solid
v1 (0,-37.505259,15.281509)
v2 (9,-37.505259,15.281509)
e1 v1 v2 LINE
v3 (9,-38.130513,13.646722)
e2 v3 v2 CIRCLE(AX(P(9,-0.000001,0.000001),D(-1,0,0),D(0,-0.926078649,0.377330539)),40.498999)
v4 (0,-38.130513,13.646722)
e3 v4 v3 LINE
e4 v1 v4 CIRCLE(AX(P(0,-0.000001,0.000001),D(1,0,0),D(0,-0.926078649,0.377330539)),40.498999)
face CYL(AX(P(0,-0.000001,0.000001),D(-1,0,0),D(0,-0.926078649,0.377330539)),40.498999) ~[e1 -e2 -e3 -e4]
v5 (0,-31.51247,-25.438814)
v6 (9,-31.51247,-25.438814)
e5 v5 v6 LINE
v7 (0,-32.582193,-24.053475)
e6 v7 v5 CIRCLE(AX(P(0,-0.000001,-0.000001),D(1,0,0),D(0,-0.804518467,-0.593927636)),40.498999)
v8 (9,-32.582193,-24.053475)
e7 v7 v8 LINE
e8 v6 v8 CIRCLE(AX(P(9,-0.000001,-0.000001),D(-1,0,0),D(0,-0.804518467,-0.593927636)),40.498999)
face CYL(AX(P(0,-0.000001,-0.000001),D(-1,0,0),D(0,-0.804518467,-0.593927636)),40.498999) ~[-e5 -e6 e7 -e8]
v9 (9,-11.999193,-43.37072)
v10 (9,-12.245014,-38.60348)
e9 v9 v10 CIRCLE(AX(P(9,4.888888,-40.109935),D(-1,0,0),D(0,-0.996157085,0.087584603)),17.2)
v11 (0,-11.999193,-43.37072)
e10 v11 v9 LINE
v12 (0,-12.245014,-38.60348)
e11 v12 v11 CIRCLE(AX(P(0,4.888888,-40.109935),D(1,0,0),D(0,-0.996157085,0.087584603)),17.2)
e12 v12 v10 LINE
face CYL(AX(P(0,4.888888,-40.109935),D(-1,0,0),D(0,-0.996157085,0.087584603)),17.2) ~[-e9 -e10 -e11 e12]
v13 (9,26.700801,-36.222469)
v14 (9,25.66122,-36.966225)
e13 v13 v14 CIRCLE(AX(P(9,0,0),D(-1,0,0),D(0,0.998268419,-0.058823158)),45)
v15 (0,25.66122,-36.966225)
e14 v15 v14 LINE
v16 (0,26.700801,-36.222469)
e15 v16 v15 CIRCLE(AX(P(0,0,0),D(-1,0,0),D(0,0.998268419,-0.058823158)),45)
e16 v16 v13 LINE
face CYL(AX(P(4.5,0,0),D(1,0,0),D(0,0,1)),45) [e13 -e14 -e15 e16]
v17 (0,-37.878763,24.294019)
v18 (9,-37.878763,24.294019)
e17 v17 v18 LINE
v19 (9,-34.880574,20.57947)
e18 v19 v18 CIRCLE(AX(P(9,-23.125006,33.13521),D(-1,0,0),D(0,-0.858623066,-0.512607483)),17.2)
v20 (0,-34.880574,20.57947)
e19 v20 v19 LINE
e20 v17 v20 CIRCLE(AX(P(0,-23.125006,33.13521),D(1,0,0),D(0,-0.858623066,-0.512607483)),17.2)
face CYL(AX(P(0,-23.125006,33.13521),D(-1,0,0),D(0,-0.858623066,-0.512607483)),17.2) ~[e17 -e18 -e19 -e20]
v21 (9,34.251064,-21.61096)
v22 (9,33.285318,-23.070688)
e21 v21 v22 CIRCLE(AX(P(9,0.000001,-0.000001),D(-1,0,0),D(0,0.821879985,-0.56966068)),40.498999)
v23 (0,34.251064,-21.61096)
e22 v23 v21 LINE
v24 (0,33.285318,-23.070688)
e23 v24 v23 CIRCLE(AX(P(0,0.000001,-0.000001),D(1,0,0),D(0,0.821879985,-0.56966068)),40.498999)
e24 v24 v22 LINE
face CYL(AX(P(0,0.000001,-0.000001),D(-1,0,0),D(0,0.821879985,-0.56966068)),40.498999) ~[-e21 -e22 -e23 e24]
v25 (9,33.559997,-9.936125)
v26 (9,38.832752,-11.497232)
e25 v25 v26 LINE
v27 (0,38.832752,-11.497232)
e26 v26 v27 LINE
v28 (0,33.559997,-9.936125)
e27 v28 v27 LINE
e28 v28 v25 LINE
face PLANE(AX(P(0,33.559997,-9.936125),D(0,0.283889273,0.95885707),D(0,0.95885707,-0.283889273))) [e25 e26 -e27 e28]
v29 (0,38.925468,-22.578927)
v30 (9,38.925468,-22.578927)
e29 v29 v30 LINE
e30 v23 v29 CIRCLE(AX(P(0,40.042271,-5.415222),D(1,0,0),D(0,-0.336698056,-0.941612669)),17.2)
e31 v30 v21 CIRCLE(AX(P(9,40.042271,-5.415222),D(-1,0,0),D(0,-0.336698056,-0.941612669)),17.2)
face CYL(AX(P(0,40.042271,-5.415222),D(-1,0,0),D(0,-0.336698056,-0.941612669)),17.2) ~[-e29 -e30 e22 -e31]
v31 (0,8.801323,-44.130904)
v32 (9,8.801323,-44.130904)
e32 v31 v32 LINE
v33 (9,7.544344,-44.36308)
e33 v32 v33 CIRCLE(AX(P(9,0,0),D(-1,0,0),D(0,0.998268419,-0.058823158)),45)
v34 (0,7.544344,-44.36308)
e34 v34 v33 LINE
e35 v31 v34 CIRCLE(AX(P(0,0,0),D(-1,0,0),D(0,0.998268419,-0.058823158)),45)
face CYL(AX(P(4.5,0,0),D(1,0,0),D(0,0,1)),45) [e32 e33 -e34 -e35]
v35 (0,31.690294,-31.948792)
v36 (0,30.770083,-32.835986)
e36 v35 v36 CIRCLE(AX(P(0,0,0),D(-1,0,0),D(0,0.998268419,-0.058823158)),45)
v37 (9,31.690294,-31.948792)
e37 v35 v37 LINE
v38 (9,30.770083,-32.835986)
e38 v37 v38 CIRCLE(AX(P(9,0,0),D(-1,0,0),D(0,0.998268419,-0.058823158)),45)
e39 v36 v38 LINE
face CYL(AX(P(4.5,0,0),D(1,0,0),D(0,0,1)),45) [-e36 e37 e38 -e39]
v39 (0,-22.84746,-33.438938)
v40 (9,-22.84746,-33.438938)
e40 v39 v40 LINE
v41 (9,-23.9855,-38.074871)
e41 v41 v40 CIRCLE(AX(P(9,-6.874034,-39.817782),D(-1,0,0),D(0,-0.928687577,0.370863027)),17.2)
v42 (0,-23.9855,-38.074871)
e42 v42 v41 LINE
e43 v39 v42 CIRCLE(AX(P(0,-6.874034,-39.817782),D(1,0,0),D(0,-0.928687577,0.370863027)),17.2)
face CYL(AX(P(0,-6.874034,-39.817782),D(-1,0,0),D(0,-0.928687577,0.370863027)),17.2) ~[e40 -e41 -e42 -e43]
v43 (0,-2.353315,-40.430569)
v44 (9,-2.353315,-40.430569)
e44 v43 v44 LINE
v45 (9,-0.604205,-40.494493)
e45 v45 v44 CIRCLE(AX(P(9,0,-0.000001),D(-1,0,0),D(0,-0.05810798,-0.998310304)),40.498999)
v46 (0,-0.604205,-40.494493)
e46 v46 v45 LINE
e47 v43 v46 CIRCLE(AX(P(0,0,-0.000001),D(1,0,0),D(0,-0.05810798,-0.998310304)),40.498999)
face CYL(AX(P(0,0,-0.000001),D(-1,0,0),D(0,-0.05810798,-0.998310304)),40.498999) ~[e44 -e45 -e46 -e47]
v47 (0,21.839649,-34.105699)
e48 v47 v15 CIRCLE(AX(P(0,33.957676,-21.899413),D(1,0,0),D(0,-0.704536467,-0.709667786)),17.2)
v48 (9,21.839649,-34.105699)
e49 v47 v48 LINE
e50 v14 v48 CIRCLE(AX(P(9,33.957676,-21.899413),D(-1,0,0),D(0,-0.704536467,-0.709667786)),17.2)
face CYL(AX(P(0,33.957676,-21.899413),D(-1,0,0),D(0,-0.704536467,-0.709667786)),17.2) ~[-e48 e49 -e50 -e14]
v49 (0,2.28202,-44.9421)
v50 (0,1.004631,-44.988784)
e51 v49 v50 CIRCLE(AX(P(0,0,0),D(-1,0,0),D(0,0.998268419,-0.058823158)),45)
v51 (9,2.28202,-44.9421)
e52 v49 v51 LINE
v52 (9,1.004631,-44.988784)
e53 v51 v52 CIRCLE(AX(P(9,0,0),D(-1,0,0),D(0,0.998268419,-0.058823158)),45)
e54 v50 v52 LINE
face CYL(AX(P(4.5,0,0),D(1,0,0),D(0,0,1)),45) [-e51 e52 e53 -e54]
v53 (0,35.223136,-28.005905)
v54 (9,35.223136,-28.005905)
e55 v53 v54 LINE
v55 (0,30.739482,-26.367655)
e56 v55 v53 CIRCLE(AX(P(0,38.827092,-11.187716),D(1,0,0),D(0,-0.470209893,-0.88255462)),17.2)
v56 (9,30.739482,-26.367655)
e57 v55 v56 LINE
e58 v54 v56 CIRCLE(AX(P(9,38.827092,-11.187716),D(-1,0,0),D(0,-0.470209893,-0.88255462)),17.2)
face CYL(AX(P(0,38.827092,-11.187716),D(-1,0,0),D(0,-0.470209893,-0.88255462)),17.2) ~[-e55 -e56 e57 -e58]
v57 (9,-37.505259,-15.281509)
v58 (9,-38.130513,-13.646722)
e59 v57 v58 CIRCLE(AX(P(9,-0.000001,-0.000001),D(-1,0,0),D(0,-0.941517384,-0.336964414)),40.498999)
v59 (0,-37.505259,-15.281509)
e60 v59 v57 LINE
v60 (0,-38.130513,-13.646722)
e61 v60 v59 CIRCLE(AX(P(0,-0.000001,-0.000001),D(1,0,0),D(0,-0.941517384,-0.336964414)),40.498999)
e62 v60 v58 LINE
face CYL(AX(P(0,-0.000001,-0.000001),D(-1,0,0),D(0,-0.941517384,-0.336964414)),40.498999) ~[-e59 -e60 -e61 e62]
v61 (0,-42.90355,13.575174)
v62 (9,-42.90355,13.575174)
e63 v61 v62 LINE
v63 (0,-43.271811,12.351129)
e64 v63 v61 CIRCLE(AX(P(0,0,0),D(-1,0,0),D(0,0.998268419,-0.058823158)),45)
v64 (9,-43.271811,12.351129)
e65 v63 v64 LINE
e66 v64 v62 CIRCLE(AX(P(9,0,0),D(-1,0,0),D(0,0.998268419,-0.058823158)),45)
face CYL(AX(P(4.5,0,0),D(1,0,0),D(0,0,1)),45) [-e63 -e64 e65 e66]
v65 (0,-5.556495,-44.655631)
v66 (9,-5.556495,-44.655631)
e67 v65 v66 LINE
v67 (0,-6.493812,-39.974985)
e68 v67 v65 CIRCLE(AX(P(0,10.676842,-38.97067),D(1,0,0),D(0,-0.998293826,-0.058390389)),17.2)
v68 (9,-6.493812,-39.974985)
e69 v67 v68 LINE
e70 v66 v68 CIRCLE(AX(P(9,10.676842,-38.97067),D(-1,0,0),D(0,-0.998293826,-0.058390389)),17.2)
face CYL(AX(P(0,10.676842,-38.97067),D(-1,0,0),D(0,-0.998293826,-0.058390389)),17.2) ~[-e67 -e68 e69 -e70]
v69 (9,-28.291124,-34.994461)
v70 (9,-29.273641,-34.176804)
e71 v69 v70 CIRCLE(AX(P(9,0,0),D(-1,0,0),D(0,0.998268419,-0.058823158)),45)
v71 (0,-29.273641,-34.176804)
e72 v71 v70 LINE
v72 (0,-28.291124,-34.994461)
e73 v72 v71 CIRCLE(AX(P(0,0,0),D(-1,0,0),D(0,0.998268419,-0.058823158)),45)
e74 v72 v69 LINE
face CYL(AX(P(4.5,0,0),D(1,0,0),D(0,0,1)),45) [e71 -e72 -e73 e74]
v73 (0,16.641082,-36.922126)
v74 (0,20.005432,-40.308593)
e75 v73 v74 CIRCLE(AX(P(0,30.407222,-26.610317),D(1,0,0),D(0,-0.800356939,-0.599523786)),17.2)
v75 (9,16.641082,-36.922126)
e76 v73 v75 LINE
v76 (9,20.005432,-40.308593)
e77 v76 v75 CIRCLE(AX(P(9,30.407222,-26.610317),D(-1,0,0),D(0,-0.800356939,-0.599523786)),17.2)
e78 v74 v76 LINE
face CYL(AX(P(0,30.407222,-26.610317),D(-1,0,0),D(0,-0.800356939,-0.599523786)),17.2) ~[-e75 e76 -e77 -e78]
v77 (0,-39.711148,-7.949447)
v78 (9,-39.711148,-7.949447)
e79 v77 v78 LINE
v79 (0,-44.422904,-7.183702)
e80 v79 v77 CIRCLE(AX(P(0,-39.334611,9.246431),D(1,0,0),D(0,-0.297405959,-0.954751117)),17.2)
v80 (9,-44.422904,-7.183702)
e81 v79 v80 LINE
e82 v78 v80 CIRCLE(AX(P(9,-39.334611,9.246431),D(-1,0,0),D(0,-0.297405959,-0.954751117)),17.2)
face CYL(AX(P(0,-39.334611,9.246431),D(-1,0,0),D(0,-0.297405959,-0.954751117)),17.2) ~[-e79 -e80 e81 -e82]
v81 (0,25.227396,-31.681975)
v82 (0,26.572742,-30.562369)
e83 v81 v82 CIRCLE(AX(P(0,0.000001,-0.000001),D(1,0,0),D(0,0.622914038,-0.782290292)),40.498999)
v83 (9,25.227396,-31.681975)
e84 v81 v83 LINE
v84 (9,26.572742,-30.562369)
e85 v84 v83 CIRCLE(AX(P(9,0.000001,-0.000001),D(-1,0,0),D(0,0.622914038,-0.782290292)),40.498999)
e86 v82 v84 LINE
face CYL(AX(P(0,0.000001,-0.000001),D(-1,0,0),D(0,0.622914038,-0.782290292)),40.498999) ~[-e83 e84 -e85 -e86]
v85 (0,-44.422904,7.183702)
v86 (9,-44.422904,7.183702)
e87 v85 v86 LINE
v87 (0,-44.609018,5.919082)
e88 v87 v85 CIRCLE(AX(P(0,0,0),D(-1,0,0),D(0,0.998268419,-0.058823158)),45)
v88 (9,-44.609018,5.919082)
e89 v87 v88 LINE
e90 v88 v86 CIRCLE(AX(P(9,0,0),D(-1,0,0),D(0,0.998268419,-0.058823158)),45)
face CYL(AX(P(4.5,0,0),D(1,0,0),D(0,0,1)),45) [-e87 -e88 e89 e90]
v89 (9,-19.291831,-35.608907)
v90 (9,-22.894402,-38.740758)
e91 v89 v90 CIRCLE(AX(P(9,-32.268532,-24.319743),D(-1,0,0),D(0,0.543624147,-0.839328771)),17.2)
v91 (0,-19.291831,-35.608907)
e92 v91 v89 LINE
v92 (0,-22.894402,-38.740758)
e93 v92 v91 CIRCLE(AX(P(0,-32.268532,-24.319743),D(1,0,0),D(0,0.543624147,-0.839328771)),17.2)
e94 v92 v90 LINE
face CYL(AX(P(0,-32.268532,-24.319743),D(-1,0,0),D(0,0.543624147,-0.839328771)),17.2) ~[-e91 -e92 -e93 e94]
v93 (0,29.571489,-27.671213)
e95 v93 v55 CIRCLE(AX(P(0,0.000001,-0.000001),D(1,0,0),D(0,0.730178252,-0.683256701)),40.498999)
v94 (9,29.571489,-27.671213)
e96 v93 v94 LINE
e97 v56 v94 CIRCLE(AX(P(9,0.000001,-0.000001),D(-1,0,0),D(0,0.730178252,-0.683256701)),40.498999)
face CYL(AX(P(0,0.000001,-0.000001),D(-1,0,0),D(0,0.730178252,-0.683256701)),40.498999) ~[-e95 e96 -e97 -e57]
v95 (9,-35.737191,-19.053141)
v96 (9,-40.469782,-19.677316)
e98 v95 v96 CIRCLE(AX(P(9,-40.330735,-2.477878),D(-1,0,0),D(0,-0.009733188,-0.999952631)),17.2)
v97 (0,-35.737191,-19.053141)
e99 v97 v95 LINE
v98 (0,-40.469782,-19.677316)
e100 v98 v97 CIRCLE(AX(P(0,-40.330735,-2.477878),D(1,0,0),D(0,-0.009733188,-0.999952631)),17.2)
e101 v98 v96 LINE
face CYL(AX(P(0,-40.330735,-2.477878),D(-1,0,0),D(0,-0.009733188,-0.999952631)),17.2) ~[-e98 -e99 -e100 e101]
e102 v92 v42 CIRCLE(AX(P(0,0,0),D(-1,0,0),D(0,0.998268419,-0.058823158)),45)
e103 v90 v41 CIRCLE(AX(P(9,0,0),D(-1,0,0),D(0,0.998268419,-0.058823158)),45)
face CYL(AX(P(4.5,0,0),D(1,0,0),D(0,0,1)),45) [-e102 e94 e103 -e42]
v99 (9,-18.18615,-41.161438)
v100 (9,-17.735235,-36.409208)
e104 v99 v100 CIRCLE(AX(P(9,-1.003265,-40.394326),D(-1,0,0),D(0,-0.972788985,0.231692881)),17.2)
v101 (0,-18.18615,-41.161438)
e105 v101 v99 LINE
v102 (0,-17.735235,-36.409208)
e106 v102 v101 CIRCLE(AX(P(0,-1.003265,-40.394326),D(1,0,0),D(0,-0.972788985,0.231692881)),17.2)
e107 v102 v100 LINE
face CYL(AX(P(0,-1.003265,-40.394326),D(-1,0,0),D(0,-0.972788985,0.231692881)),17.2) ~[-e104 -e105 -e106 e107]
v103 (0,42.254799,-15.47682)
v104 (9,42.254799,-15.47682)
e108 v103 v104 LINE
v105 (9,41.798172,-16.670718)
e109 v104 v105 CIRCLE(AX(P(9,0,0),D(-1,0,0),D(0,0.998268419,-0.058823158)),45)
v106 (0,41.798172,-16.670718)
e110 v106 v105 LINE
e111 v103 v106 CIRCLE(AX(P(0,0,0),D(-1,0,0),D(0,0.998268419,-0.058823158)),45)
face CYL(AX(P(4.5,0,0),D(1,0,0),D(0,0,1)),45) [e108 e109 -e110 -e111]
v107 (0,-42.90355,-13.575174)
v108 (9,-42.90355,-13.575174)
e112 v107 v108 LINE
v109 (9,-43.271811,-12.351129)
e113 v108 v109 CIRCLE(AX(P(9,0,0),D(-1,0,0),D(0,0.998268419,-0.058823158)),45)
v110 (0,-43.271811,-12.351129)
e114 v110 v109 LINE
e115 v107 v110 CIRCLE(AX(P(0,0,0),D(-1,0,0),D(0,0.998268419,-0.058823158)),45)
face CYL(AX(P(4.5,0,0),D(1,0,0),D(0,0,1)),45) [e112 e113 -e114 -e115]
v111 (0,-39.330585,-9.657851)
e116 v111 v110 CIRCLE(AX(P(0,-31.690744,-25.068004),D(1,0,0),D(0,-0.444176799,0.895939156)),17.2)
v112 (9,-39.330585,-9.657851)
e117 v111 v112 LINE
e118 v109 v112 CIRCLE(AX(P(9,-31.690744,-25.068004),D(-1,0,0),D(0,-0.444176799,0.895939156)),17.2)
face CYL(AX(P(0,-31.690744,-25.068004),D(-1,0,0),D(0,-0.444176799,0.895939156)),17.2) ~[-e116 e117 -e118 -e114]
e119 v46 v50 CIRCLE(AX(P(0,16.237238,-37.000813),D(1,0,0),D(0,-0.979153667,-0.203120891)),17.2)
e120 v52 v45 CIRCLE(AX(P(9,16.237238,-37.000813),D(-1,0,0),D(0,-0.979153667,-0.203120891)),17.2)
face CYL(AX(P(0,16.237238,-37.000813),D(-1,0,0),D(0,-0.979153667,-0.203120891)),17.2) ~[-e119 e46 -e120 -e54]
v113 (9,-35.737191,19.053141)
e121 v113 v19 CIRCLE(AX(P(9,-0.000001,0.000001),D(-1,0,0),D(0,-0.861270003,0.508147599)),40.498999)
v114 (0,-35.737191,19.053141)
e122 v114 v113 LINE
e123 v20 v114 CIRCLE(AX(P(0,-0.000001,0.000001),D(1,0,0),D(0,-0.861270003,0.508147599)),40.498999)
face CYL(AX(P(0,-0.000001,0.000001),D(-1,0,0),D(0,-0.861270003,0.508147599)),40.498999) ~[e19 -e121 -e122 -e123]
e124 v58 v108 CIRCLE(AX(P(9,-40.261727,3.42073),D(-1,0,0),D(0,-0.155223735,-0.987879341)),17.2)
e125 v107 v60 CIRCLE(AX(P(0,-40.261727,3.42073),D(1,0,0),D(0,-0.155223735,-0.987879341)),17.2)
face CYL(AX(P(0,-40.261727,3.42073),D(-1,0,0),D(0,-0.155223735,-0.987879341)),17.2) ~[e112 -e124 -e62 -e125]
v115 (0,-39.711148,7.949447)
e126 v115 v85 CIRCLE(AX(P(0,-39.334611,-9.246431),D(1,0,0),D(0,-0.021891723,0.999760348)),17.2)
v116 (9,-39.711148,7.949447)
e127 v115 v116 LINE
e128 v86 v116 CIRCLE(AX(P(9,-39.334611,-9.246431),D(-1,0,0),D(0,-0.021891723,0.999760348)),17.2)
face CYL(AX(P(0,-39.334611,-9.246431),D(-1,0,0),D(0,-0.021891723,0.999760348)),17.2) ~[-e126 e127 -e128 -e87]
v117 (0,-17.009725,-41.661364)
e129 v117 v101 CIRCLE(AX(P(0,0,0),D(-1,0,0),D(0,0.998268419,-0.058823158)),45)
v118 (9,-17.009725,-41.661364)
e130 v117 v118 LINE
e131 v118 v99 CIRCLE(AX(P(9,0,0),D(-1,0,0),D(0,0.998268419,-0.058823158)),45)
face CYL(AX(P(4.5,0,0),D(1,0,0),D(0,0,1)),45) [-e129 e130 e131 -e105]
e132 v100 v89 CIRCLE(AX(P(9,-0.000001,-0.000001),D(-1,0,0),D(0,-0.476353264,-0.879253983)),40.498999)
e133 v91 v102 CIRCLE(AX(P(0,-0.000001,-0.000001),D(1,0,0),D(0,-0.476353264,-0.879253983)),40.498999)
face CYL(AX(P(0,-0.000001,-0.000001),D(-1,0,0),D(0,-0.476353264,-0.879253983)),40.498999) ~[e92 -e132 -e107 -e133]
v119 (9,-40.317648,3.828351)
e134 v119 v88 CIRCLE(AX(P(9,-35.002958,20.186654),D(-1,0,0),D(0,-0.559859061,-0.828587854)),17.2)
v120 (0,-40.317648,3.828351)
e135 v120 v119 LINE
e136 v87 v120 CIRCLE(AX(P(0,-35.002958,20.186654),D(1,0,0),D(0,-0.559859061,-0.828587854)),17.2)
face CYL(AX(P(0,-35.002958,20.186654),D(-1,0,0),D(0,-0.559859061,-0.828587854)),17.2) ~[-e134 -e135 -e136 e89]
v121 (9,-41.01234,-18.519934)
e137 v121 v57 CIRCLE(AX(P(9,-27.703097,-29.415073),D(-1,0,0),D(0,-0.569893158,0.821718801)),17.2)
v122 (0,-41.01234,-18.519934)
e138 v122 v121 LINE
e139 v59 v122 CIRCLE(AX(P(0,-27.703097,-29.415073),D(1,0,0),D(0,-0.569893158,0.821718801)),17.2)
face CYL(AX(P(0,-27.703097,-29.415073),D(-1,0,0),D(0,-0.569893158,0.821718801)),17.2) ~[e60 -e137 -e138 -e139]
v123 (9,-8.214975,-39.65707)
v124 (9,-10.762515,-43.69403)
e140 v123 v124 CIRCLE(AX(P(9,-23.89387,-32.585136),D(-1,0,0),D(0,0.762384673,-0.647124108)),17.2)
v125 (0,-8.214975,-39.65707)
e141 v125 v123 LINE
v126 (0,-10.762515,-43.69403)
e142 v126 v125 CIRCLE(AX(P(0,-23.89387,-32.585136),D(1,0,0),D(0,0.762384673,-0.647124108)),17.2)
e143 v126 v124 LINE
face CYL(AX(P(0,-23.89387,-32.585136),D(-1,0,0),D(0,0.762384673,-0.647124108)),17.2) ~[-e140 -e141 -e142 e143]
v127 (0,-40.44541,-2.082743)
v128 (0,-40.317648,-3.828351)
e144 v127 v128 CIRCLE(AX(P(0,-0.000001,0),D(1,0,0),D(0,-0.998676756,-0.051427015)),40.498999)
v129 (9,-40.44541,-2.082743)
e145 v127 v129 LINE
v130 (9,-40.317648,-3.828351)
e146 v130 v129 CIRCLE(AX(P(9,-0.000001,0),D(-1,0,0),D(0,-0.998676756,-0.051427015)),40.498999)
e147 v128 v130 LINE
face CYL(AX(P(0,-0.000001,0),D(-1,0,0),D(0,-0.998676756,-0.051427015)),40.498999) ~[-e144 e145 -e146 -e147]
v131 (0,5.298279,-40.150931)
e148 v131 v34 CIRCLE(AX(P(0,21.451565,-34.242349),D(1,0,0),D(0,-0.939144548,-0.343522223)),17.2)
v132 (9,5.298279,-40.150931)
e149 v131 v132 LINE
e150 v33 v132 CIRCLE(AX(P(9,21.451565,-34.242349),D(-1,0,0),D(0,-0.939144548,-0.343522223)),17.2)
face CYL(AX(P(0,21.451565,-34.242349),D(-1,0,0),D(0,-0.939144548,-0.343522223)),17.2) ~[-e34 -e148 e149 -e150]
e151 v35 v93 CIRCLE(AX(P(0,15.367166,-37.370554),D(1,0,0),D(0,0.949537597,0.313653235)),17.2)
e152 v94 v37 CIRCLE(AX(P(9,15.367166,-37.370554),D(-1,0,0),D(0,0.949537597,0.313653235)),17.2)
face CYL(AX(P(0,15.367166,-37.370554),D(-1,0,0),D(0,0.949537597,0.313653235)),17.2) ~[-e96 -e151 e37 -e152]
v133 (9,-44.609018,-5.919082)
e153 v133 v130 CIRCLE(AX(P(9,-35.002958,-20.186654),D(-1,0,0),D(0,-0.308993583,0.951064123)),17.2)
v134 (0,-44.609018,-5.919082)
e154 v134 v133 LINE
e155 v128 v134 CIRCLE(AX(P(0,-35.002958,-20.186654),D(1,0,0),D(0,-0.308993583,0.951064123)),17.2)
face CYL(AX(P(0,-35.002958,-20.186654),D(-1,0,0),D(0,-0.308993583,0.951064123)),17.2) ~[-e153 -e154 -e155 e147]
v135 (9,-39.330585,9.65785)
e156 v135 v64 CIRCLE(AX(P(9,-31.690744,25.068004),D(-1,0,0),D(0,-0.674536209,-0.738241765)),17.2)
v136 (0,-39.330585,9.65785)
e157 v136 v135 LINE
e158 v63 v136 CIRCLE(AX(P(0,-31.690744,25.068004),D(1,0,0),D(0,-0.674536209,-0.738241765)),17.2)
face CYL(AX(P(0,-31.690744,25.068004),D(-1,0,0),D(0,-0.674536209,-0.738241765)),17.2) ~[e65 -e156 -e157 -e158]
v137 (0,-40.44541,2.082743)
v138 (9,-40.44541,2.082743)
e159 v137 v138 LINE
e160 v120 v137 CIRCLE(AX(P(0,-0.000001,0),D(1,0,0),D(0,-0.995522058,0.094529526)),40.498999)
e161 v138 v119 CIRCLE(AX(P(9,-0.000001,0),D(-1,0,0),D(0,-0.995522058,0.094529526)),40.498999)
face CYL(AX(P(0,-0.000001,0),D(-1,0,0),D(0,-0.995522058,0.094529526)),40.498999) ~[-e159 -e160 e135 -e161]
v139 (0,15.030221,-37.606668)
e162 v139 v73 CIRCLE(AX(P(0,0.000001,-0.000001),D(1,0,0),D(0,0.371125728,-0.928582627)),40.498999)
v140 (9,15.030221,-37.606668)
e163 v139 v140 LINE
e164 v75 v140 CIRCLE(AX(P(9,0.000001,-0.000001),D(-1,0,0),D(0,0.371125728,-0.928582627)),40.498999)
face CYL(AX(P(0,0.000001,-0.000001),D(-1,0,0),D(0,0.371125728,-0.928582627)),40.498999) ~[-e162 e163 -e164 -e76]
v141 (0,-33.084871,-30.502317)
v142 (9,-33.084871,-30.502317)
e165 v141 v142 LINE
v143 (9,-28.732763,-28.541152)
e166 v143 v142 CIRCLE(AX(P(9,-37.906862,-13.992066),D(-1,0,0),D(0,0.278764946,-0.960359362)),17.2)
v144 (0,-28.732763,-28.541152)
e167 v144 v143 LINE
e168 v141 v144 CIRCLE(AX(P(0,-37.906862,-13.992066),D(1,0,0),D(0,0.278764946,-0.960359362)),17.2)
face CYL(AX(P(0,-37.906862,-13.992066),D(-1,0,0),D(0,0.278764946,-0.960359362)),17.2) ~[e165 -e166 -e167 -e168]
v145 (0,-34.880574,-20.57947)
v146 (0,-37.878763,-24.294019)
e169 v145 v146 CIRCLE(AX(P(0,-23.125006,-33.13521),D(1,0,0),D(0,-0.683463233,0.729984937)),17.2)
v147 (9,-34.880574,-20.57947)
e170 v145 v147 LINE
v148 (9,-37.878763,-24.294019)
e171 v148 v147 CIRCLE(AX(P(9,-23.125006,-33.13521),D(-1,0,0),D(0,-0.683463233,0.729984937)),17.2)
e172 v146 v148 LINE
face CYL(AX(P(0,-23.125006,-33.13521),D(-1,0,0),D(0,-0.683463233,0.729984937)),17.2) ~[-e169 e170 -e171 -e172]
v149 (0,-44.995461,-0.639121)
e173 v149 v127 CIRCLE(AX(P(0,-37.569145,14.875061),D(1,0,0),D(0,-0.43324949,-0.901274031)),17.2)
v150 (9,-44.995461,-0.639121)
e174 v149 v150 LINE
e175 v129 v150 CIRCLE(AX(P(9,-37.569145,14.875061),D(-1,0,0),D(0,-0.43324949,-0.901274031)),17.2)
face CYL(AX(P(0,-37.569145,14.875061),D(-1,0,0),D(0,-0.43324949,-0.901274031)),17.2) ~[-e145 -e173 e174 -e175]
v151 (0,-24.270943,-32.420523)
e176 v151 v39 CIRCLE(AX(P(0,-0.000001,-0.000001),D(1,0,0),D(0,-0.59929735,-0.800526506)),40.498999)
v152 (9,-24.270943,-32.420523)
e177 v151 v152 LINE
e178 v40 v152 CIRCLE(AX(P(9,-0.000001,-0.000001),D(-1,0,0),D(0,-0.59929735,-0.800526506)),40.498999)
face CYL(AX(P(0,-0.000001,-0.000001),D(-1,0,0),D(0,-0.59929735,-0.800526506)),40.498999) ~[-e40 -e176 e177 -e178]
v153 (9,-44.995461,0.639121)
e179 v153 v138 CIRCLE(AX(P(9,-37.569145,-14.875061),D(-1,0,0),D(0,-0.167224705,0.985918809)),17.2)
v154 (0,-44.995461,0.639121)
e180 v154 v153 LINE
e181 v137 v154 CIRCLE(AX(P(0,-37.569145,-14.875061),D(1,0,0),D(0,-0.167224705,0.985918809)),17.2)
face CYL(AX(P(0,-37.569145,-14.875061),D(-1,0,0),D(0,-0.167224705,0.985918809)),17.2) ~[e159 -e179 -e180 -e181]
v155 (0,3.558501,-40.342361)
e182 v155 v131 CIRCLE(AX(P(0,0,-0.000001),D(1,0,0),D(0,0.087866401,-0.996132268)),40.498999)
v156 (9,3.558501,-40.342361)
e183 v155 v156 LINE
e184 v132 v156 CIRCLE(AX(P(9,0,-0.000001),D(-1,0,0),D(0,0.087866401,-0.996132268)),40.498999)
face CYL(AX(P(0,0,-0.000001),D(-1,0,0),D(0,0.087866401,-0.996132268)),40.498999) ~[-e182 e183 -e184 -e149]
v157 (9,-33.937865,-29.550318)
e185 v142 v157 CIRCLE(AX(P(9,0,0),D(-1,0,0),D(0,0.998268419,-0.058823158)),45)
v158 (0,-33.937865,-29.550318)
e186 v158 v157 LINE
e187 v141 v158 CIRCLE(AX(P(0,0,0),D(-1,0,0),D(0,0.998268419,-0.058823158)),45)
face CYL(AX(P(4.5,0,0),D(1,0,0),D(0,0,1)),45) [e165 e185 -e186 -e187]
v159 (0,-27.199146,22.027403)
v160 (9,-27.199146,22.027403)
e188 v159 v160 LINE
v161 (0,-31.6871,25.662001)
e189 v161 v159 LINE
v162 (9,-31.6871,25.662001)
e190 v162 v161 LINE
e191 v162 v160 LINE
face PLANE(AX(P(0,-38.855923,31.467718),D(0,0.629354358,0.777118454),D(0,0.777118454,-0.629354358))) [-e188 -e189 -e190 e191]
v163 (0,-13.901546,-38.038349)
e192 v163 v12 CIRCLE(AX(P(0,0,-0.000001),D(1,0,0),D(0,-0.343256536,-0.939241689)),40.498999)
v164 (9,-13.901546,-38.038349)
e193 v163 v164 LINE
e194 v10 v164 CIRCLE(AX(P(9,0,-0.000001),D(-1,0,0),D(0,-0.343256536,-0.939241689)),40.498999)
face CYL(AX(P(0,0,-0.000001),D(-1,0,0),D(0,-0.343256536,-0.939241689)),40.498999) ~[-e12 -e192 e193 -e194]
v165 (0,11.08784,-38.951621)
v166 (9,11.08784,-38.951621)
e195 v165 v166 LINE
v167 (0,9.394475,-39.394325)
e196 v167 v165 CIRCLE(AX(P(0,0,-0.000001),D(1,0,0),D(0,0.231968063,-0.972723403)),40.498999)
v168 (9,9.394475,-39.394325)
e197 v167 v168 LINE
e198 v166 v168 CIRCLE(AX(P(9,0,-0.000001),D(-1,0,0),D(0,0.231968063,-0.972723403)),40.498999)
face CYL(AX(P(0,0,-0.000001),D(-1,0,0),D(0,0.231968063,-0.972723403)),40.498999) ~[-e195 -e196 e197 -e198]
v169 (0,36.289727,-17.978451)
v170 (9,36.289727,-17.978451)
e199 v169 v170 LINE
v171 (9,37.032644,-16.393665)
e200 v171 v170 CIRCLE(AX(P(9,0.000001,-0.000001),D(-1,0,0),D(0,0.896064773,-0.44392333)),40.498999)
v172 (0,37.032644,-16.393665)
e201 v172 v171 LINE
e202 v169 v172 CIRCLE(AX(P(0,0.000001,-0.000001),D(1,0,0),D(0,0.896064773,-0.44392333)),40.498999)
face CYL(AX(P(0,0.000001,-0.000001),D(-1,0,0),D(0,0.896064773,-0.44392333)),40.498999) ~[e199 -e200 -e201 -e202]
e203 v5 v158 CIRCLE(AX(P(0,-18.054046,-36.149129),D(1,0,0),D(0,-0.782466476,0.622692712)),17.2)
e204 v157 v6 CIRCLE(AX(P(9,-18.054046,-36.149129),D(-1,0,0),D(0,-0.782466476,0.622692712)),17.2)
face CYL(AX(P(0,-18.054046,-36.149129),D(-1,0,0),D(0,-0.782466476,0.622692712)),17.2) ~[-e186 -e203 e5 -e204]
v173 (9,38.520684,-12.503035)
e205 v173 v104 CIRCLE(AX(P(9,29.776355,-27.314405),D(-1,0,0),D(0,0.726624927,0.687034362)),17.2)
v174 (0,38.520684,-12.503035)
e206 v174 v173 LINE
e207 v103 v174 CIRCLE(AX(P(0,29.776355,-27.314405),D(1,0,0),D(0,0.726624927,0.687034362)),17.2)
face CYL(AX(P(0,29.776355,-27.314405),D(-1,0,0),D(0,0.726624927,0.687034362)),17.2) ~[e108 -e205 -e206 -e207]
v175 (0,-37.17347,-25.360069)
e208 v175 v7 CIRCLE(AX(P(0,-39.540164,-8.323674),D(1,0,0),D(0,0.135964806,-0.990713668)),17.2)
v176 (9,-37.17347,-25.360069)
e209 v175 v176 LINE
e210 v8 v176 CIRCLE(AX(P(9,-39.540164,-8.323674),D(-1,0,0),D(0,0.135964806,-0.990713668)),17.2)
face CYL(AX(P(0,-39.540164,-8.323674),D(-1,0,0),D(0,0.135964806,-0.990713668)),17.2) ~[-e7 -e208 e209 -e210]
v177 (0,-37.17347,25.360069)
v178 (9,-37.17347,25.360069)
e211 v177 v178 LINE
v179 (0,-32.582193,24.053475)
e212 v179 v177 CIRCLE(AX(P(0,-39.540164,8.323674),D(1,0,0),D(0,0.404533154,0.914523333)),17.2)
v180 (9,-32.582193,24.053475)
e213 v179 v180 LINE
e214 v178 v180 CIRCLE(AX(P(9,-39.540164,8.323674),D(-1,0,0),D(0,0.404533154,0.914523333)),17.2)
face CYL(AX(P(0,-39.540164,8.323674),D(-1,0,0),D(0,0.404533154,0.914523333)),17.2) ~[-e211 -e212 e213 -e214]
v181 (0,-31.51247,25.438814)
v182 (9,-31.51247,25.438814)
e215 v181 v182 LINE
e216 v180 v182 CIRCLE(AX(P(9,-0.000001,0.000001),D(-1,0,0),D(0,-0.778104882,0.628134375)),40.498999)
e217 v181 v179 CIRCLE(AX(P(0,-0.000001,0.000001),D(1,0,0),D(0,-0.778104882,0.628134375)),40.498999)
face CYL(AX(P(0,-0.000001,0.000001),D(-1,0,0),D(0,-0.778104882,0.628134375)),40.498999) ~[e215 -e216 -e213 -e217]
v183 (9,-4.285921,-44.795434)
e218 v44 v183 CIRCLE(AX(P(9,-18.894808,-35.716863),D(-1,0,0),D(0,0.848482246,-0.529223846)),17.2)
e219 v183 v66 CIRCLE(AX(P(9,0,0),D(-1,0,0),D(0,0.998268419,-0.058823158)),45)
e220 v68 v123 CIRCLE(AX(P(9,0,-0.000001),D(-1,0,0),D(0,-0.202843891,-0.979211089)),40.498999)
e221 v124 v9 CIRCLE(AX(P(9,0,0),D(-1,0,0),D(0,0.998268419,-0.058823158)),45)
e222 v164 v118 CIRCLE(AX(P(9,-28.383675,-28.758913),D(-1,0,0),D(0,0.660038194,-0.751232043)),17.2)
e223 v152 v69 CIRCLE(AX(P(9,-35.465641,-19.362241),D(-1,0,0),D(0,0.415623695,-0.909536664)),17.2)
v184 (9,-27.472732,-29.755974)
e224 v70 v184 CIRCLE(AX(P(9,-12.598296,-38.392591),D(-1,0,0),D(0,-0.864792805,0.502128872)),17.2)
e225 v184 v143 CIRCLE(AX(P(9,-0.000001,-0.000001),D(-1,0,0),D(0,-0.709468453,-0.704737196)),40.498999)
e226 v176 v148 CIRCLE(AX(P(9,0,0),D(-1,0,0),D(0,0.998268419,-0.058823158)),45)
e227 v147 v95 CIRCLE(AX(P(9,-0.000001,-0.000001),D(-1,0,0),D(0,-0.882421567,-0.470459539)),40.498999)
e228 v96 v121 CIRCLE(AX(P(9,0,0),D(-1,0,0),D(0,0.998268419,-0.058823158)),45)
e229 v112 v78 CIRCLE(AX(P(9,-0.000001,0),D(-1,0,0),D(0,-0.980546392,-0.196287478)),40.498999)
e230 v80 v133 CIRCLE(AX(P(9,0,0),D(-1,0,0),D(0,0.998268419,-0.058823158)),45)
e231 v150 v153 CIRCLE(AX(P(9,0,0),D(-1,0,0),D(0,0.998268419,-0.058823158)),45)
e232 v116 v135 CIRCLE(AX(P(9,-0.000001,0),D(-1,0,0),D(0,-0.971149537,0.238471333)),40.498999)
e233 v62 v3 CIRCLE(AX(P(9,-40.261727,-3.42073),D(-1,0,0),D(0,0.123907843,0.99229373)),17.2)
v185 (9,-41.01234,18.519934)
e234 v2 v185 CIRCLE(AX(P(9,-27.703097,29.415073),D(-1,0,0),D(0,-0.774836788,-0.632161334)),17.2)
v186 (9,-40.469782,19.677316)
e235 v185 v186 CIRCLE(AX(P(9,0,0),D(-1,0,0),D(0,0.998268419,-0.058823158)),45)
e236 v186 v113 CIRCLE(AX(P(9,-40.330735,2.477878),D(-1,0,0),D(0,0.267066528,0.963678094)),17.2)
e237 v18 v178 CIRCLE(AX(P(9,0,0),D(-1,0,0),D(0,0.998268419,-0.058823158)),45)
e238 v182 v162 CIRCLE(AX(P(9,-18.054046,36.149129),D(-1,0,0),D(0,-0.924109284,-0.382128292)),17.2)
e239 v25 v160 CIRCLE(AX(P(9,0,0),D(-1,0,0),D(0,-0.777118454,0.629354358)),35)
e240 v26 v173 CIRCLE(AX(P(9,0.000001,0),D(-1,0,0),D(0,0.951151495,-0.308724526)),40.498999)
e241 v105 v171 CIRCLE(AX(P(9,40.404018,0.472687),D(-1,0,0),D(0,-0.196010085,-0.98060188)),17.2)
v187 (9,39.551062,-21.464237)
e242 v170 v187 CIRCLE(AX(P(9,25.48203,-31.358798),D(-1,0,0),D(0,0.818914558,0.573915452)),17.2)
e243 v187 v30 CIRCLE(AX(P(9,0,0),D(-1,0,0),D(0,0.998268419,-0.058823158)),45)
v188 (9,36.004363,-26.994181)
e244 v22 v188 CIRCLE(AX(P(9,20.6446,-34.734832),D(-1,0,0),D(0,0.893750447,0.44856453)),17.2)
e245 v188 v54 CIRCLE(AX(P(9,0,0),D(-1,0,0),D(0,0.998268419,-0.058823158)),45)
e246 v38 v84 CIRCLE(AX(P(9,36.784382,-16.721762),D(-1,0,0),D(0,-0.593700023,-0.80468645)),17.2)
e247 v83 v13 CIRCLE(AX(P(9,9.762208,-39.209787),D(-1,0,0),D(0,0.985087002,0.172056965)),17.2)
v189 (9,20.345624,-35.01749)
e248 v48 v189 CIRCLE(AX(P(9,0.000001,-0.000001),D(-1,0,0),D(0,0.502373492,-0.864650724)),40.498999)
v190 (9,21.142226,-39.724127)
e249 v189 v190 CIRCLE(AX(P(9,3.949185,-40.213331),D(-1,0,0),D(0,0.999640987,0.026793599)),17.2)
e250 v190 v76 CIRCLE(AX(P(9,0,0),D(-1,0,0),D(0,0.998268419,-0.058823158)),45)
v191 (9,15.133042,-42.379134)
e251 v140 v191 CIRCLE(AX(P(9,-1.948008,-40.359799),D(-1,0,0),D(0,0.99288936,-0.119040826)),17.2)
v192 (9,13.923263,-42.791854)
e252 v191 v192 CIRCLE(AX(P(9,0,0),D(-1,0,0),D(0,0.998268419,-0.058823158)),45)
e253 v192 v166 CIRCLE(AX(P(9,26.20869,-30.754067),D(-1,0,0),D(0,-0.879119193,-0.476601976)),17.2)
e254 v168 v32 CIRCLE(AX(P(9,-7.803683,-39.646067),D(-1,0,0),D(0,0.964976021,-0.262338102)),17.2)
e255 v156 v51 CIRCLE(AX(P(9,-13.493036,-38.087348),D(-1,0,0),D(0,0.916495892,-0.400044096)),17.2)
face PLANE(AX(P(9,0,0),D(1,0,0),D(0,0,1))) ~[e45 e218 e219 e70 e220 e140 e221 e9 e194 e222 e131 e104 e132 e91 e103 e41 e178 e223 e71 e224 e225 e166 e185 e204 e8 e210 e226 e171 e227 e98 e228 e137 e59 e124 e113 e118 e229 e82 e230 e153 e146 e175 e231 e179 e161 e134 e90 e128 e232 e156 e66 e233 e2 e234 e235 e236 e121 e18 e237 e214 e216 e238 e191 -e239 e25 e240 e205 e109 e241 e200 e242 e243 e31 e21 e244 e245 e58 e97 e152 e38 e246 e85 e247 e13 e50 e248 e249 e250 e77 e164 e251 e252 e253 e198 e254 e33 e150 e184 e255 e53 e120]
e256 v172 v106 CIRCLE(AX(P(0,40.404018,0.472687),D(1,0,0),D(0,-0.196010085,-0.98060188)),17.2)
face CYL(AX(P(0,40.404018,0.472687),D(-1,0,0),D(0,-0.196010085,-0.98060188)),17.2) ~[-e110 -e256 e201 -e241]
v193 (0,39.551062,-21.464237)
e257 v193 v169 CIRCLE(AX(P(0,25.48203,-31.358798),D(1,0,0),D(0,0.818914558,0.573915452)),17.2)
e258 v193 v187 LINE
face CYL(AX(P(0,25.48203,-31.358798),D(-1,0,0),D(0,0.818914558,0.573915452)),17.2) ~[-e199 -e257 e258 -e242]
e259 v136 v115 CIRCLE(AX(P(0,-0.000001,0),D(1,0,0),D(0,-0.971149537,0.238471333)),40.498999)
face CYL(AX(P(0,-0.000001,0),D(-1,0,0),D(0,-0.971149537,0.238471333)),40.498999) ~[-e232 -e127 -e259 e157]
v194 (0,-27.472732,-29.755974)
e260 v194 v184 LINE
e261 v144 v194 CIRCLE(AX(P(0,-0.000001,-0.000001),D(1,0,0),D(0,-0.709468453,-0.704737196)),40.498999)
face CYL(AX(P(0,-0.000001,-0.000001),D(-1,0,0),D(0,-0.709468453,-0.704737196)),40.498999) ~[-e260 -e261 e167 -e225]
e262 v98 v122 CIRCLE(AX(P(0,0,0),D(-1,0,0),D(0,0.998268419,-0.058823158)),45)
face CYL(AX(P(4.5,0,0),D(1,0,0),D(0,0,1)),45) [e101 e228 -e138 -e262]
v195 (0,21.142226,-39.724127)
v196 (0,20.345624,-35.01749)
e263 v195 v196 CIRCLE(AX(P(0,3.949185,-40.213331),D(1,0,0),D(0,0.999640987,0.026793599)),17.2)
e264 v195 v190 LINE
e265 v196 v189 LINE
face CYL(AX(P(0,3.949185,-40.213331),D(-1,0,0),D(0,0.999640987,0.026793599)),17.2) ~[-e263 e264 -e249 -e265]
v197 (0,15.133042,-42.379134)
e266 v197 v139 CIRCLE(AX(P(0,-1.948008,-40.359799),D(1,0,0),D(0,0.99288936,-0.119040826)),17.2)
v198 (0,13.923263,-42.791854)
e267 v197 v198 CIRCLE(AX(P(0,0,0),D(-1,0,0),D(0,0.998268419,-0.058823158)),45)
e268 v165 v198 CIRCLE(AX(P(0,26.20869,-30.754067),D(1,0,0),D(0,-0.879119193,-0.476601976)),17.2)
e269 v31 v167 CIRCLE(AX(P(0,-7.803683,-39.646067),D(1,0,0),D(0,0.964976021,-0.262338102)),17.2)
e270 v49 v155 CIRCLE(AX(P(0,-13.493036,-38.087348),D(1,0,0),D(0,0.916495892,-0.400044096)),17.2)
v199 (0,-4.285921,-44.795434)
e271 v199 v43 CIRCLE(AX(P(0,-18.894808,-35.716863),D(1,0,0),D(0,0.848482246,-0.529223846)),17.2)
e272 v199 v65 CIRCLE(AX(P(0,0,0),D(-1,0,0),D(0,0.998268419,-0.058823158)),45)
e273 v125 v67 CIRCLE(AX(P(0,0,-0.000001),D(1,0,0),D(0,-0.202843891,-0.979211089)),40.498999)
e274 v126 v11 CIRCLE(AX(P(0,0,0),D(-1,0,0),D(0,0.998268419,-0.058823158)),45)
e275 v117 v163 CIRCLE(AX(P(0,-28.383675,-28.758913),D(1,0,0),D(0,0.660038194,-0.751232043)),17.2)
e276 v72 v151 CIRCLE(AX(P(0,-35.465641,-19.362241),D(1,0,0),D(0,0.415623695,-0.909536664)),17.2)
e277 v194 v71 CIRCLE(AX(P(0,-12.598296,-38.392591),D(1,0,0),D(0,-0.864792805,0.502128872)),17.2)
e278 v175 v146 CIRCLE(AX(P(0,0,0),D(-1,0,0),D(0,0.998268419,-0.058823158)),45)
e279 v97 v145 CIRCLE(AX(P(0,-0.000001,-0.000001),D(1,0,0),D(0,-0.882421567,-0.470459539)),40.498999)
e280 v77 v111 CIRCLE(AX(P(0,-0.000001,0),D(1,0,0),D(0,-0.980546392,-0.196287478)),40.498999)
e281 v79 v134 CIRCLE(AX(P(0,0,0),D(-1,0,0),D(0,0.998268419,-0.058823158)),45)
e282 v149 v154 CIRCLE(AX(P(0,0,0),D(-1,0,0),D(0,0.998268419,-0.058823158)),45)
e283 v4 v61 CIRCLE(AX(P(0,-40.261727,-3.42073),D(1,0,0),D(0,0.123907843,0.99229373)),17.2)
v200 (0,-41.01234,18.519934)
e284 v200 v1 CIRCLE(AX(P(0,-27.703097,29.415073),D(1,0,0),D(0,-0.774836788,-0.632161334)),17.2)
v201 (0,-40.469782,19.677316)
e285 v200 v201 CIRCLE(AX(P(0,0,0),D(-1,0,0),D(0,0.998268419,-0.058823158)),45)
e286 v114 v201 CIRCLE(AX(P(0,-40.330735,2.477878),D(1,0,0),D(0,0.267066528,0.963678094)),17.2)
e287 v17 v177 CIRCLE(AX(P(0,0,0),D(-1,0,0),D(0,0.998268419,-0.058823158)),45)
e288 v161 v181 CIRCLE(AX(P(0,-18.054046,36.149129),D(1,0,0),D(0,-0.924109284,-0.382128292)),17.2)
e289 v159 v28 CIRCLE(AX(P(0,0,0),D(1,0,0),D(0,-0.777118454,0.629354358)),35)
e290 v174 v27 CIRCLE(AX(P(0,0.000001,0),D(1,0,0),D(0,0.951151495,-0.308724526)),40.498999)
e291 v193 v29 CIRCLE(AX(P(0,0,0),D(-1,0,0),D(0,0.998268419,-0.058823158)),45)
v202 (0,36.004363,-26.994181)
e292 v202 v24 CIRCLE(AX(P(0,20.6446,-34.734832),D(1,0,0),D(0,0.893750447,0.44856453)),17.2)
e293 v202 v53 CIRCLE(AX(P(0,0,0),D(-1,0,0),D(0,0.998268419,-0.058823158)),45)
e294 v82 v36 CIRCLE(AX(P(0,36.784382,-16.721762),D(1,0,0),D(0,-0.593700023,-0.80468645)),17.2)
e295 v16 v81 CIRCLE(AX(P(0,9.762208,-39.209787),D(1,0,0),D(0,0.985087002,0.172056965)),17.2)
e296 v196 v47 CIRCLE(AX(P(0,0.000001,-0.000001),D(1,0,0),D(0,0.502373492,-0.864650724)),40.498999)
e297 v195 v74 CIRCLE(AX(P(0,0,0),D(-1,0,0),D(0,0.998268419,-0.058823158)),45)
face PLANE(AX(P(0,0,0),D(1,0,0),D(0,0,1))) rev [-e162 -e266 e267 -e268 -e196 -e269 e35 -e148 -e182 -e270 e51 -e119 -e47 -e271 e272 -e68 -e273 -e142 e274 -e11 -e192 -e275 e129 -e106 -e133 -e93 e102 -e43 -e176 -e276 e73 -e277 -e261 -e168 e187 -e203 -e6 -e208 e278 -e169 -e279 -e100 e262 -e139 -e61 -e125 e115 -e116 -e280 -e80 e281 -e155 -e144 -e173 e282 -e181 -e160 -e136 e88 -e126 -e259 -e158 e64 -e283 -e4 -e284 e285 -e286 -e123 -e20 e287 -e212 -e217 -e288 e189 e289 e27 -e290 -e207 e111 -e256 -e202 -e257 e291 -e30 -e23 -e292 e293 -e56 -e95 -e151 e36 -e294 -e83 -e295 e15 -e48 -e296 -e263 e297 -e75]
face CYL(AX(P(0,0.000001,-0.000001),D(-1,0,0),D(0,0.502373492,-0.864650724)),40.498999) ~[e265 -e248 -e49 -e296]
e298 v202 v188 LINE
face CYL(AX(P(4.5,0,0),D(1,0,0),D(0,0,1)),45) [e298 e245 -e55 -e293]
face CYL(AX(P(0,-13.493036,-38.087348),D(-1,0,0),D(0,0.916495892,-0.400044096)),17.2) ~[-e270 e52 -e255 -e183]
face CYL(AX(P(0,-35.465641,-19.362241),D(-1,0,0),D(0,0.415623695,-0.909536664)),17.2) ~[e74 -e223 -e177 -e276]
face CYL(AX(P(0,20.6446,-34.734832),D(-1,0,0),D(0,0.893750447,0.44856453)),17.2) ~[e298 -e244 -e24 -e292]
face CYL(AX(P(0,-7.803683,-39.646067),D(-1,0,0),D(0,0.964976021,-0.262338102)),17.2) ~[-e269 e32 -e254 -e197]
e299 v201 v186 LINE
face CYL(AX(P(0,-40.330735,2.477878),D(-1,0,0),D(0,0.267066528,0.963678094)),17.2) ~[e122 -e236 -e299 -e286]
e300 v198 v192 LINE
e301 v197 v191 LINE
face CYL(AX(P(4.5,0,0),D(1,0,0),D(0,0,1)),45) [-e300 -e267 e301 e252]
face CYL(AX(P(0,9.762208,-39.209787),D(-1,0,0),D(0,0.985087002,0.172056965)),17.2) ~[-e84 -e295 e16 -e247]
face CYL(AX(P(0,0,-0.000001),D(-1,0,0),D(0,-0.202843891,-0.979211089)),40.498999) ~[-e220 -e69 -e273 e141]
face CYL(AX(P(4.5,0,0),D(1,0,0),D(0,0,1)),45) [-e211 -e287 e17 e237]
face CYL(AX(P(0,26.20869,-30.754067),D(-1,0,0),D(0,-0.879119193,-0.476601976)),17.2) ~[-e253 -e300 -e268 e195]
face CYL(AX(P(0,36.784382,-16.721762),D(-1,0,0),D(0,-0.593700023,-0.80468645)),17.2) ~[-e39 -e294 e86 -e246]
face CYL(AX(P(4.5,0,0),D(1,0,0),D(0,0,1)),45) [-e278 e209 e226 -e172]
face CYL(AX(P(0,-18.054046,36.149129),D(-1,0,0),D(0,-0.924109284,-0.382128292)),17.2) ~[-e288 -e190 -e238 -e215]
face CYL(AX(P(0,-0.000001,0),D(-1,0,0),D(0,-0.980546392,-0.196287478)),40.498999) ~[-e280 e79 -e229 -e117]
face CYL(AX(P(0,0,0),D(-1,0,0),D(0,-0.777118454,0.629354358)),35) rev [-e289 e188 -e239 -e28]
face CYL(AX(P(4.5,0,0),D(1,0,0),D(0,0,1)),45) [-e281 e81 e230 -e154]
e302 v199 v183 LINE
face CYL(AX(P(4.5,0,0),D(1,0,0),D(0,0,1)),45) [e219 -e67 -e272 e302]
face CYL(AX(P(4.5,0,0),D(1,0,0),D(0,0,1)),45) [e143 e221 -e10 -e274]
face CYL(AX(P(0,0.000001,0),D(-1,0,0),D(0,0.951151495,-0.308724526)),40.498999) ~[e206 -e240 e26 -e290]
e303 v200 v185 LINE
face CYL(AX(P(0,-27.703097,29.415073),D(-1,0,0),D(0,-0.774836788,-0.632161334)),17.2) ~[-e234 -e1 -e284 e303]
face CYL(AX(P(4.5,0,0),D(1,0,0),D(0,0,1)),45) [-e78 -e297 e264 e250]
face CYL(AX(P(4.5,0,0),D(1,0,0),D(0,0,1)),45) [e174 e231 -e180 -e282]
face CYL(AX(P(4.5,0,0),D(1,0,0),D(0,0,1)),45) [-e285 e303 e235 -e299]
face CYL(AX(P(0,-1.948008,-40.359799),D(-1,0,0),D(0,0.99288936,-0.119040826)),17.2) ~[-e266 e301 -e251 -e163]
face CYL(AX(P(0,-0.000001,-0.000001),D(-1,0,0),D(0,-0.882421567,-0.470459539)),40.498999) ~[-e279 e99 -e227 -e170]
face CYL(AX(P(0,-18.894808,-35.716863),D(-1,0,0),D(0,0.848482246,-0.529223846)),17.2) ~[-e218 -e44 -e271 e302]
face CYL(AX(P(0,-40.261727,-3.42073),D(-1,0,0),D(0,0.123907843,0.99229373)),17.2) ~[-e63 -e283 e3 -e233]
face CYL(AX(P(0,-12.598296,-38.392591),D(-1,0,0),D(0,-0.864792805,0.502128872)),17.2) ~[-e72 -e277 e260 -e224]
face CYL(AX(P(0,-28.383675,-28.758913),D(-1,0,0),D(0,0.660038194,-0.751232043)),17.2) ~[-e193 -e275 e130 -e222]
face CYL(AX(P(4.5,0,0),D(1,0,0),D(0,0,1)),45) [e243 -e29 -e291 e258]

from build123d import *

# Parameters (mm, degrees)
BASPROSKE_W                = 9
BASPROSKE_H                = 45
TOOTHCUT_DEPTH             = 65.272855857
TEETHCUTS_COUNT            = 43
TEETHCUTS_ANGLE            = 351.627906977
BORSKE_R                   = 3
BORE_DEPTH                 = 50.0000508
WYTNIJ_WYCI_GNI_CIE1_DEPTH = 65.265003825


with BuildPart() as part:
    # BasProSke → Base-Revolve (revolve)
    with BuildSketch(Plane(origin=(0, 0, 0), x_dir=(1, 0, 0), z_dir=(0, 1, 0)), mode=Mode.PRIVATE) as base_revolve_sk:
        with Locations((4.5, 22.5)):
            Rectangle(BASPROSKE_W, BASPROSKE_H)
    revolve(base_revolve_sk.sketch.rotate(Axis((-10, 0, 0), (1, 0, 0)), 180), axis=Axis((-10, 0, 0), (1, 0, 0)))

    # TooCutSke → ToothCut (cut, through all)
    with BuildSketch(Plane(origin=(0, 0, 0), x_dir=(0, 0, -1), z_dir=(1, 0, 0))):
        with BuildLine():
            ThreePointArc((0.875138877, 40.489543501), (0, 40.499), (-0.875138877, 40.489543501))
            ThreePointArc((-0.875138877, 40.489543501), (-1.611840844, 42.780747503), (-2.66114443, 44.94669015))
            ThreePointArc((-2.66114443, 44.94669015), (0, 45.0254), (2.66114443, 44.94669015))
            ThreePointArc((2.66114443, 44.94669015), (1.611840844, 42.780747503), (0.875138877, 40.489543501))
        make_face()
    toothcut = extrude(amount=TOOTHCUT_DEPTH, mode=Mode.SUBTRACT)

    # TeethCuts: ToothCut ×43 about axis
    teethcuts_axis = Axis((-10, 0, 0), (1, 0, 0))
    for i in range(1, TEETHCUTS_COUNT):
        add(toothcut.rotate(teethcuts_axis, i * TEETHCUTS_ANGLE / (TEETHCUTS_COUNT - 1)), mode=Mode.SUBTRACT)

    # BorSke → Bore (cut, symmetric)
    with BuildSketch(Plane(origin=(0, 0, 0), x_dir=(0, 0, -1), z_dir=(1, 0, 0))):
        with Locations(Location((0, 0, 0), (0, 0, 180))):
            Circle(BORSKE_R)
    extrude(amount=BORE_DEPTH, both=True, mode=Mode.SUBTRACT)

    # Szkic2 → Wytnij-wyciągnięcie1 (cut, through all)
    with BuildSketch(Plane(origin=(0, 0, 0), x_dir=(0, 0, -1), z_dir=(1, 0, 0))):
        with BuildLine():
            Line((-31.467717921, -38.8559227), (-22.027402545, -27.19914589))
            ThreePointArc((-22.027402545, -27.19914589), (30.975282492, -16.295148804), (9.936124572, 33.559997445))
            Line((9.936124572, 33.559997445), (14.194463674, 47.942853492))
            ThreePointArc((14.194463674, 47.942853492), (-44.25040356, 23.278784006), (-31.467717921, -38.8559227))
        make_face()
    extrude(amount=WYTNIJ_WYCI_GNI_CIE1_DEPTH, mode=Mode.SUBTRACT)


solid = part.part
